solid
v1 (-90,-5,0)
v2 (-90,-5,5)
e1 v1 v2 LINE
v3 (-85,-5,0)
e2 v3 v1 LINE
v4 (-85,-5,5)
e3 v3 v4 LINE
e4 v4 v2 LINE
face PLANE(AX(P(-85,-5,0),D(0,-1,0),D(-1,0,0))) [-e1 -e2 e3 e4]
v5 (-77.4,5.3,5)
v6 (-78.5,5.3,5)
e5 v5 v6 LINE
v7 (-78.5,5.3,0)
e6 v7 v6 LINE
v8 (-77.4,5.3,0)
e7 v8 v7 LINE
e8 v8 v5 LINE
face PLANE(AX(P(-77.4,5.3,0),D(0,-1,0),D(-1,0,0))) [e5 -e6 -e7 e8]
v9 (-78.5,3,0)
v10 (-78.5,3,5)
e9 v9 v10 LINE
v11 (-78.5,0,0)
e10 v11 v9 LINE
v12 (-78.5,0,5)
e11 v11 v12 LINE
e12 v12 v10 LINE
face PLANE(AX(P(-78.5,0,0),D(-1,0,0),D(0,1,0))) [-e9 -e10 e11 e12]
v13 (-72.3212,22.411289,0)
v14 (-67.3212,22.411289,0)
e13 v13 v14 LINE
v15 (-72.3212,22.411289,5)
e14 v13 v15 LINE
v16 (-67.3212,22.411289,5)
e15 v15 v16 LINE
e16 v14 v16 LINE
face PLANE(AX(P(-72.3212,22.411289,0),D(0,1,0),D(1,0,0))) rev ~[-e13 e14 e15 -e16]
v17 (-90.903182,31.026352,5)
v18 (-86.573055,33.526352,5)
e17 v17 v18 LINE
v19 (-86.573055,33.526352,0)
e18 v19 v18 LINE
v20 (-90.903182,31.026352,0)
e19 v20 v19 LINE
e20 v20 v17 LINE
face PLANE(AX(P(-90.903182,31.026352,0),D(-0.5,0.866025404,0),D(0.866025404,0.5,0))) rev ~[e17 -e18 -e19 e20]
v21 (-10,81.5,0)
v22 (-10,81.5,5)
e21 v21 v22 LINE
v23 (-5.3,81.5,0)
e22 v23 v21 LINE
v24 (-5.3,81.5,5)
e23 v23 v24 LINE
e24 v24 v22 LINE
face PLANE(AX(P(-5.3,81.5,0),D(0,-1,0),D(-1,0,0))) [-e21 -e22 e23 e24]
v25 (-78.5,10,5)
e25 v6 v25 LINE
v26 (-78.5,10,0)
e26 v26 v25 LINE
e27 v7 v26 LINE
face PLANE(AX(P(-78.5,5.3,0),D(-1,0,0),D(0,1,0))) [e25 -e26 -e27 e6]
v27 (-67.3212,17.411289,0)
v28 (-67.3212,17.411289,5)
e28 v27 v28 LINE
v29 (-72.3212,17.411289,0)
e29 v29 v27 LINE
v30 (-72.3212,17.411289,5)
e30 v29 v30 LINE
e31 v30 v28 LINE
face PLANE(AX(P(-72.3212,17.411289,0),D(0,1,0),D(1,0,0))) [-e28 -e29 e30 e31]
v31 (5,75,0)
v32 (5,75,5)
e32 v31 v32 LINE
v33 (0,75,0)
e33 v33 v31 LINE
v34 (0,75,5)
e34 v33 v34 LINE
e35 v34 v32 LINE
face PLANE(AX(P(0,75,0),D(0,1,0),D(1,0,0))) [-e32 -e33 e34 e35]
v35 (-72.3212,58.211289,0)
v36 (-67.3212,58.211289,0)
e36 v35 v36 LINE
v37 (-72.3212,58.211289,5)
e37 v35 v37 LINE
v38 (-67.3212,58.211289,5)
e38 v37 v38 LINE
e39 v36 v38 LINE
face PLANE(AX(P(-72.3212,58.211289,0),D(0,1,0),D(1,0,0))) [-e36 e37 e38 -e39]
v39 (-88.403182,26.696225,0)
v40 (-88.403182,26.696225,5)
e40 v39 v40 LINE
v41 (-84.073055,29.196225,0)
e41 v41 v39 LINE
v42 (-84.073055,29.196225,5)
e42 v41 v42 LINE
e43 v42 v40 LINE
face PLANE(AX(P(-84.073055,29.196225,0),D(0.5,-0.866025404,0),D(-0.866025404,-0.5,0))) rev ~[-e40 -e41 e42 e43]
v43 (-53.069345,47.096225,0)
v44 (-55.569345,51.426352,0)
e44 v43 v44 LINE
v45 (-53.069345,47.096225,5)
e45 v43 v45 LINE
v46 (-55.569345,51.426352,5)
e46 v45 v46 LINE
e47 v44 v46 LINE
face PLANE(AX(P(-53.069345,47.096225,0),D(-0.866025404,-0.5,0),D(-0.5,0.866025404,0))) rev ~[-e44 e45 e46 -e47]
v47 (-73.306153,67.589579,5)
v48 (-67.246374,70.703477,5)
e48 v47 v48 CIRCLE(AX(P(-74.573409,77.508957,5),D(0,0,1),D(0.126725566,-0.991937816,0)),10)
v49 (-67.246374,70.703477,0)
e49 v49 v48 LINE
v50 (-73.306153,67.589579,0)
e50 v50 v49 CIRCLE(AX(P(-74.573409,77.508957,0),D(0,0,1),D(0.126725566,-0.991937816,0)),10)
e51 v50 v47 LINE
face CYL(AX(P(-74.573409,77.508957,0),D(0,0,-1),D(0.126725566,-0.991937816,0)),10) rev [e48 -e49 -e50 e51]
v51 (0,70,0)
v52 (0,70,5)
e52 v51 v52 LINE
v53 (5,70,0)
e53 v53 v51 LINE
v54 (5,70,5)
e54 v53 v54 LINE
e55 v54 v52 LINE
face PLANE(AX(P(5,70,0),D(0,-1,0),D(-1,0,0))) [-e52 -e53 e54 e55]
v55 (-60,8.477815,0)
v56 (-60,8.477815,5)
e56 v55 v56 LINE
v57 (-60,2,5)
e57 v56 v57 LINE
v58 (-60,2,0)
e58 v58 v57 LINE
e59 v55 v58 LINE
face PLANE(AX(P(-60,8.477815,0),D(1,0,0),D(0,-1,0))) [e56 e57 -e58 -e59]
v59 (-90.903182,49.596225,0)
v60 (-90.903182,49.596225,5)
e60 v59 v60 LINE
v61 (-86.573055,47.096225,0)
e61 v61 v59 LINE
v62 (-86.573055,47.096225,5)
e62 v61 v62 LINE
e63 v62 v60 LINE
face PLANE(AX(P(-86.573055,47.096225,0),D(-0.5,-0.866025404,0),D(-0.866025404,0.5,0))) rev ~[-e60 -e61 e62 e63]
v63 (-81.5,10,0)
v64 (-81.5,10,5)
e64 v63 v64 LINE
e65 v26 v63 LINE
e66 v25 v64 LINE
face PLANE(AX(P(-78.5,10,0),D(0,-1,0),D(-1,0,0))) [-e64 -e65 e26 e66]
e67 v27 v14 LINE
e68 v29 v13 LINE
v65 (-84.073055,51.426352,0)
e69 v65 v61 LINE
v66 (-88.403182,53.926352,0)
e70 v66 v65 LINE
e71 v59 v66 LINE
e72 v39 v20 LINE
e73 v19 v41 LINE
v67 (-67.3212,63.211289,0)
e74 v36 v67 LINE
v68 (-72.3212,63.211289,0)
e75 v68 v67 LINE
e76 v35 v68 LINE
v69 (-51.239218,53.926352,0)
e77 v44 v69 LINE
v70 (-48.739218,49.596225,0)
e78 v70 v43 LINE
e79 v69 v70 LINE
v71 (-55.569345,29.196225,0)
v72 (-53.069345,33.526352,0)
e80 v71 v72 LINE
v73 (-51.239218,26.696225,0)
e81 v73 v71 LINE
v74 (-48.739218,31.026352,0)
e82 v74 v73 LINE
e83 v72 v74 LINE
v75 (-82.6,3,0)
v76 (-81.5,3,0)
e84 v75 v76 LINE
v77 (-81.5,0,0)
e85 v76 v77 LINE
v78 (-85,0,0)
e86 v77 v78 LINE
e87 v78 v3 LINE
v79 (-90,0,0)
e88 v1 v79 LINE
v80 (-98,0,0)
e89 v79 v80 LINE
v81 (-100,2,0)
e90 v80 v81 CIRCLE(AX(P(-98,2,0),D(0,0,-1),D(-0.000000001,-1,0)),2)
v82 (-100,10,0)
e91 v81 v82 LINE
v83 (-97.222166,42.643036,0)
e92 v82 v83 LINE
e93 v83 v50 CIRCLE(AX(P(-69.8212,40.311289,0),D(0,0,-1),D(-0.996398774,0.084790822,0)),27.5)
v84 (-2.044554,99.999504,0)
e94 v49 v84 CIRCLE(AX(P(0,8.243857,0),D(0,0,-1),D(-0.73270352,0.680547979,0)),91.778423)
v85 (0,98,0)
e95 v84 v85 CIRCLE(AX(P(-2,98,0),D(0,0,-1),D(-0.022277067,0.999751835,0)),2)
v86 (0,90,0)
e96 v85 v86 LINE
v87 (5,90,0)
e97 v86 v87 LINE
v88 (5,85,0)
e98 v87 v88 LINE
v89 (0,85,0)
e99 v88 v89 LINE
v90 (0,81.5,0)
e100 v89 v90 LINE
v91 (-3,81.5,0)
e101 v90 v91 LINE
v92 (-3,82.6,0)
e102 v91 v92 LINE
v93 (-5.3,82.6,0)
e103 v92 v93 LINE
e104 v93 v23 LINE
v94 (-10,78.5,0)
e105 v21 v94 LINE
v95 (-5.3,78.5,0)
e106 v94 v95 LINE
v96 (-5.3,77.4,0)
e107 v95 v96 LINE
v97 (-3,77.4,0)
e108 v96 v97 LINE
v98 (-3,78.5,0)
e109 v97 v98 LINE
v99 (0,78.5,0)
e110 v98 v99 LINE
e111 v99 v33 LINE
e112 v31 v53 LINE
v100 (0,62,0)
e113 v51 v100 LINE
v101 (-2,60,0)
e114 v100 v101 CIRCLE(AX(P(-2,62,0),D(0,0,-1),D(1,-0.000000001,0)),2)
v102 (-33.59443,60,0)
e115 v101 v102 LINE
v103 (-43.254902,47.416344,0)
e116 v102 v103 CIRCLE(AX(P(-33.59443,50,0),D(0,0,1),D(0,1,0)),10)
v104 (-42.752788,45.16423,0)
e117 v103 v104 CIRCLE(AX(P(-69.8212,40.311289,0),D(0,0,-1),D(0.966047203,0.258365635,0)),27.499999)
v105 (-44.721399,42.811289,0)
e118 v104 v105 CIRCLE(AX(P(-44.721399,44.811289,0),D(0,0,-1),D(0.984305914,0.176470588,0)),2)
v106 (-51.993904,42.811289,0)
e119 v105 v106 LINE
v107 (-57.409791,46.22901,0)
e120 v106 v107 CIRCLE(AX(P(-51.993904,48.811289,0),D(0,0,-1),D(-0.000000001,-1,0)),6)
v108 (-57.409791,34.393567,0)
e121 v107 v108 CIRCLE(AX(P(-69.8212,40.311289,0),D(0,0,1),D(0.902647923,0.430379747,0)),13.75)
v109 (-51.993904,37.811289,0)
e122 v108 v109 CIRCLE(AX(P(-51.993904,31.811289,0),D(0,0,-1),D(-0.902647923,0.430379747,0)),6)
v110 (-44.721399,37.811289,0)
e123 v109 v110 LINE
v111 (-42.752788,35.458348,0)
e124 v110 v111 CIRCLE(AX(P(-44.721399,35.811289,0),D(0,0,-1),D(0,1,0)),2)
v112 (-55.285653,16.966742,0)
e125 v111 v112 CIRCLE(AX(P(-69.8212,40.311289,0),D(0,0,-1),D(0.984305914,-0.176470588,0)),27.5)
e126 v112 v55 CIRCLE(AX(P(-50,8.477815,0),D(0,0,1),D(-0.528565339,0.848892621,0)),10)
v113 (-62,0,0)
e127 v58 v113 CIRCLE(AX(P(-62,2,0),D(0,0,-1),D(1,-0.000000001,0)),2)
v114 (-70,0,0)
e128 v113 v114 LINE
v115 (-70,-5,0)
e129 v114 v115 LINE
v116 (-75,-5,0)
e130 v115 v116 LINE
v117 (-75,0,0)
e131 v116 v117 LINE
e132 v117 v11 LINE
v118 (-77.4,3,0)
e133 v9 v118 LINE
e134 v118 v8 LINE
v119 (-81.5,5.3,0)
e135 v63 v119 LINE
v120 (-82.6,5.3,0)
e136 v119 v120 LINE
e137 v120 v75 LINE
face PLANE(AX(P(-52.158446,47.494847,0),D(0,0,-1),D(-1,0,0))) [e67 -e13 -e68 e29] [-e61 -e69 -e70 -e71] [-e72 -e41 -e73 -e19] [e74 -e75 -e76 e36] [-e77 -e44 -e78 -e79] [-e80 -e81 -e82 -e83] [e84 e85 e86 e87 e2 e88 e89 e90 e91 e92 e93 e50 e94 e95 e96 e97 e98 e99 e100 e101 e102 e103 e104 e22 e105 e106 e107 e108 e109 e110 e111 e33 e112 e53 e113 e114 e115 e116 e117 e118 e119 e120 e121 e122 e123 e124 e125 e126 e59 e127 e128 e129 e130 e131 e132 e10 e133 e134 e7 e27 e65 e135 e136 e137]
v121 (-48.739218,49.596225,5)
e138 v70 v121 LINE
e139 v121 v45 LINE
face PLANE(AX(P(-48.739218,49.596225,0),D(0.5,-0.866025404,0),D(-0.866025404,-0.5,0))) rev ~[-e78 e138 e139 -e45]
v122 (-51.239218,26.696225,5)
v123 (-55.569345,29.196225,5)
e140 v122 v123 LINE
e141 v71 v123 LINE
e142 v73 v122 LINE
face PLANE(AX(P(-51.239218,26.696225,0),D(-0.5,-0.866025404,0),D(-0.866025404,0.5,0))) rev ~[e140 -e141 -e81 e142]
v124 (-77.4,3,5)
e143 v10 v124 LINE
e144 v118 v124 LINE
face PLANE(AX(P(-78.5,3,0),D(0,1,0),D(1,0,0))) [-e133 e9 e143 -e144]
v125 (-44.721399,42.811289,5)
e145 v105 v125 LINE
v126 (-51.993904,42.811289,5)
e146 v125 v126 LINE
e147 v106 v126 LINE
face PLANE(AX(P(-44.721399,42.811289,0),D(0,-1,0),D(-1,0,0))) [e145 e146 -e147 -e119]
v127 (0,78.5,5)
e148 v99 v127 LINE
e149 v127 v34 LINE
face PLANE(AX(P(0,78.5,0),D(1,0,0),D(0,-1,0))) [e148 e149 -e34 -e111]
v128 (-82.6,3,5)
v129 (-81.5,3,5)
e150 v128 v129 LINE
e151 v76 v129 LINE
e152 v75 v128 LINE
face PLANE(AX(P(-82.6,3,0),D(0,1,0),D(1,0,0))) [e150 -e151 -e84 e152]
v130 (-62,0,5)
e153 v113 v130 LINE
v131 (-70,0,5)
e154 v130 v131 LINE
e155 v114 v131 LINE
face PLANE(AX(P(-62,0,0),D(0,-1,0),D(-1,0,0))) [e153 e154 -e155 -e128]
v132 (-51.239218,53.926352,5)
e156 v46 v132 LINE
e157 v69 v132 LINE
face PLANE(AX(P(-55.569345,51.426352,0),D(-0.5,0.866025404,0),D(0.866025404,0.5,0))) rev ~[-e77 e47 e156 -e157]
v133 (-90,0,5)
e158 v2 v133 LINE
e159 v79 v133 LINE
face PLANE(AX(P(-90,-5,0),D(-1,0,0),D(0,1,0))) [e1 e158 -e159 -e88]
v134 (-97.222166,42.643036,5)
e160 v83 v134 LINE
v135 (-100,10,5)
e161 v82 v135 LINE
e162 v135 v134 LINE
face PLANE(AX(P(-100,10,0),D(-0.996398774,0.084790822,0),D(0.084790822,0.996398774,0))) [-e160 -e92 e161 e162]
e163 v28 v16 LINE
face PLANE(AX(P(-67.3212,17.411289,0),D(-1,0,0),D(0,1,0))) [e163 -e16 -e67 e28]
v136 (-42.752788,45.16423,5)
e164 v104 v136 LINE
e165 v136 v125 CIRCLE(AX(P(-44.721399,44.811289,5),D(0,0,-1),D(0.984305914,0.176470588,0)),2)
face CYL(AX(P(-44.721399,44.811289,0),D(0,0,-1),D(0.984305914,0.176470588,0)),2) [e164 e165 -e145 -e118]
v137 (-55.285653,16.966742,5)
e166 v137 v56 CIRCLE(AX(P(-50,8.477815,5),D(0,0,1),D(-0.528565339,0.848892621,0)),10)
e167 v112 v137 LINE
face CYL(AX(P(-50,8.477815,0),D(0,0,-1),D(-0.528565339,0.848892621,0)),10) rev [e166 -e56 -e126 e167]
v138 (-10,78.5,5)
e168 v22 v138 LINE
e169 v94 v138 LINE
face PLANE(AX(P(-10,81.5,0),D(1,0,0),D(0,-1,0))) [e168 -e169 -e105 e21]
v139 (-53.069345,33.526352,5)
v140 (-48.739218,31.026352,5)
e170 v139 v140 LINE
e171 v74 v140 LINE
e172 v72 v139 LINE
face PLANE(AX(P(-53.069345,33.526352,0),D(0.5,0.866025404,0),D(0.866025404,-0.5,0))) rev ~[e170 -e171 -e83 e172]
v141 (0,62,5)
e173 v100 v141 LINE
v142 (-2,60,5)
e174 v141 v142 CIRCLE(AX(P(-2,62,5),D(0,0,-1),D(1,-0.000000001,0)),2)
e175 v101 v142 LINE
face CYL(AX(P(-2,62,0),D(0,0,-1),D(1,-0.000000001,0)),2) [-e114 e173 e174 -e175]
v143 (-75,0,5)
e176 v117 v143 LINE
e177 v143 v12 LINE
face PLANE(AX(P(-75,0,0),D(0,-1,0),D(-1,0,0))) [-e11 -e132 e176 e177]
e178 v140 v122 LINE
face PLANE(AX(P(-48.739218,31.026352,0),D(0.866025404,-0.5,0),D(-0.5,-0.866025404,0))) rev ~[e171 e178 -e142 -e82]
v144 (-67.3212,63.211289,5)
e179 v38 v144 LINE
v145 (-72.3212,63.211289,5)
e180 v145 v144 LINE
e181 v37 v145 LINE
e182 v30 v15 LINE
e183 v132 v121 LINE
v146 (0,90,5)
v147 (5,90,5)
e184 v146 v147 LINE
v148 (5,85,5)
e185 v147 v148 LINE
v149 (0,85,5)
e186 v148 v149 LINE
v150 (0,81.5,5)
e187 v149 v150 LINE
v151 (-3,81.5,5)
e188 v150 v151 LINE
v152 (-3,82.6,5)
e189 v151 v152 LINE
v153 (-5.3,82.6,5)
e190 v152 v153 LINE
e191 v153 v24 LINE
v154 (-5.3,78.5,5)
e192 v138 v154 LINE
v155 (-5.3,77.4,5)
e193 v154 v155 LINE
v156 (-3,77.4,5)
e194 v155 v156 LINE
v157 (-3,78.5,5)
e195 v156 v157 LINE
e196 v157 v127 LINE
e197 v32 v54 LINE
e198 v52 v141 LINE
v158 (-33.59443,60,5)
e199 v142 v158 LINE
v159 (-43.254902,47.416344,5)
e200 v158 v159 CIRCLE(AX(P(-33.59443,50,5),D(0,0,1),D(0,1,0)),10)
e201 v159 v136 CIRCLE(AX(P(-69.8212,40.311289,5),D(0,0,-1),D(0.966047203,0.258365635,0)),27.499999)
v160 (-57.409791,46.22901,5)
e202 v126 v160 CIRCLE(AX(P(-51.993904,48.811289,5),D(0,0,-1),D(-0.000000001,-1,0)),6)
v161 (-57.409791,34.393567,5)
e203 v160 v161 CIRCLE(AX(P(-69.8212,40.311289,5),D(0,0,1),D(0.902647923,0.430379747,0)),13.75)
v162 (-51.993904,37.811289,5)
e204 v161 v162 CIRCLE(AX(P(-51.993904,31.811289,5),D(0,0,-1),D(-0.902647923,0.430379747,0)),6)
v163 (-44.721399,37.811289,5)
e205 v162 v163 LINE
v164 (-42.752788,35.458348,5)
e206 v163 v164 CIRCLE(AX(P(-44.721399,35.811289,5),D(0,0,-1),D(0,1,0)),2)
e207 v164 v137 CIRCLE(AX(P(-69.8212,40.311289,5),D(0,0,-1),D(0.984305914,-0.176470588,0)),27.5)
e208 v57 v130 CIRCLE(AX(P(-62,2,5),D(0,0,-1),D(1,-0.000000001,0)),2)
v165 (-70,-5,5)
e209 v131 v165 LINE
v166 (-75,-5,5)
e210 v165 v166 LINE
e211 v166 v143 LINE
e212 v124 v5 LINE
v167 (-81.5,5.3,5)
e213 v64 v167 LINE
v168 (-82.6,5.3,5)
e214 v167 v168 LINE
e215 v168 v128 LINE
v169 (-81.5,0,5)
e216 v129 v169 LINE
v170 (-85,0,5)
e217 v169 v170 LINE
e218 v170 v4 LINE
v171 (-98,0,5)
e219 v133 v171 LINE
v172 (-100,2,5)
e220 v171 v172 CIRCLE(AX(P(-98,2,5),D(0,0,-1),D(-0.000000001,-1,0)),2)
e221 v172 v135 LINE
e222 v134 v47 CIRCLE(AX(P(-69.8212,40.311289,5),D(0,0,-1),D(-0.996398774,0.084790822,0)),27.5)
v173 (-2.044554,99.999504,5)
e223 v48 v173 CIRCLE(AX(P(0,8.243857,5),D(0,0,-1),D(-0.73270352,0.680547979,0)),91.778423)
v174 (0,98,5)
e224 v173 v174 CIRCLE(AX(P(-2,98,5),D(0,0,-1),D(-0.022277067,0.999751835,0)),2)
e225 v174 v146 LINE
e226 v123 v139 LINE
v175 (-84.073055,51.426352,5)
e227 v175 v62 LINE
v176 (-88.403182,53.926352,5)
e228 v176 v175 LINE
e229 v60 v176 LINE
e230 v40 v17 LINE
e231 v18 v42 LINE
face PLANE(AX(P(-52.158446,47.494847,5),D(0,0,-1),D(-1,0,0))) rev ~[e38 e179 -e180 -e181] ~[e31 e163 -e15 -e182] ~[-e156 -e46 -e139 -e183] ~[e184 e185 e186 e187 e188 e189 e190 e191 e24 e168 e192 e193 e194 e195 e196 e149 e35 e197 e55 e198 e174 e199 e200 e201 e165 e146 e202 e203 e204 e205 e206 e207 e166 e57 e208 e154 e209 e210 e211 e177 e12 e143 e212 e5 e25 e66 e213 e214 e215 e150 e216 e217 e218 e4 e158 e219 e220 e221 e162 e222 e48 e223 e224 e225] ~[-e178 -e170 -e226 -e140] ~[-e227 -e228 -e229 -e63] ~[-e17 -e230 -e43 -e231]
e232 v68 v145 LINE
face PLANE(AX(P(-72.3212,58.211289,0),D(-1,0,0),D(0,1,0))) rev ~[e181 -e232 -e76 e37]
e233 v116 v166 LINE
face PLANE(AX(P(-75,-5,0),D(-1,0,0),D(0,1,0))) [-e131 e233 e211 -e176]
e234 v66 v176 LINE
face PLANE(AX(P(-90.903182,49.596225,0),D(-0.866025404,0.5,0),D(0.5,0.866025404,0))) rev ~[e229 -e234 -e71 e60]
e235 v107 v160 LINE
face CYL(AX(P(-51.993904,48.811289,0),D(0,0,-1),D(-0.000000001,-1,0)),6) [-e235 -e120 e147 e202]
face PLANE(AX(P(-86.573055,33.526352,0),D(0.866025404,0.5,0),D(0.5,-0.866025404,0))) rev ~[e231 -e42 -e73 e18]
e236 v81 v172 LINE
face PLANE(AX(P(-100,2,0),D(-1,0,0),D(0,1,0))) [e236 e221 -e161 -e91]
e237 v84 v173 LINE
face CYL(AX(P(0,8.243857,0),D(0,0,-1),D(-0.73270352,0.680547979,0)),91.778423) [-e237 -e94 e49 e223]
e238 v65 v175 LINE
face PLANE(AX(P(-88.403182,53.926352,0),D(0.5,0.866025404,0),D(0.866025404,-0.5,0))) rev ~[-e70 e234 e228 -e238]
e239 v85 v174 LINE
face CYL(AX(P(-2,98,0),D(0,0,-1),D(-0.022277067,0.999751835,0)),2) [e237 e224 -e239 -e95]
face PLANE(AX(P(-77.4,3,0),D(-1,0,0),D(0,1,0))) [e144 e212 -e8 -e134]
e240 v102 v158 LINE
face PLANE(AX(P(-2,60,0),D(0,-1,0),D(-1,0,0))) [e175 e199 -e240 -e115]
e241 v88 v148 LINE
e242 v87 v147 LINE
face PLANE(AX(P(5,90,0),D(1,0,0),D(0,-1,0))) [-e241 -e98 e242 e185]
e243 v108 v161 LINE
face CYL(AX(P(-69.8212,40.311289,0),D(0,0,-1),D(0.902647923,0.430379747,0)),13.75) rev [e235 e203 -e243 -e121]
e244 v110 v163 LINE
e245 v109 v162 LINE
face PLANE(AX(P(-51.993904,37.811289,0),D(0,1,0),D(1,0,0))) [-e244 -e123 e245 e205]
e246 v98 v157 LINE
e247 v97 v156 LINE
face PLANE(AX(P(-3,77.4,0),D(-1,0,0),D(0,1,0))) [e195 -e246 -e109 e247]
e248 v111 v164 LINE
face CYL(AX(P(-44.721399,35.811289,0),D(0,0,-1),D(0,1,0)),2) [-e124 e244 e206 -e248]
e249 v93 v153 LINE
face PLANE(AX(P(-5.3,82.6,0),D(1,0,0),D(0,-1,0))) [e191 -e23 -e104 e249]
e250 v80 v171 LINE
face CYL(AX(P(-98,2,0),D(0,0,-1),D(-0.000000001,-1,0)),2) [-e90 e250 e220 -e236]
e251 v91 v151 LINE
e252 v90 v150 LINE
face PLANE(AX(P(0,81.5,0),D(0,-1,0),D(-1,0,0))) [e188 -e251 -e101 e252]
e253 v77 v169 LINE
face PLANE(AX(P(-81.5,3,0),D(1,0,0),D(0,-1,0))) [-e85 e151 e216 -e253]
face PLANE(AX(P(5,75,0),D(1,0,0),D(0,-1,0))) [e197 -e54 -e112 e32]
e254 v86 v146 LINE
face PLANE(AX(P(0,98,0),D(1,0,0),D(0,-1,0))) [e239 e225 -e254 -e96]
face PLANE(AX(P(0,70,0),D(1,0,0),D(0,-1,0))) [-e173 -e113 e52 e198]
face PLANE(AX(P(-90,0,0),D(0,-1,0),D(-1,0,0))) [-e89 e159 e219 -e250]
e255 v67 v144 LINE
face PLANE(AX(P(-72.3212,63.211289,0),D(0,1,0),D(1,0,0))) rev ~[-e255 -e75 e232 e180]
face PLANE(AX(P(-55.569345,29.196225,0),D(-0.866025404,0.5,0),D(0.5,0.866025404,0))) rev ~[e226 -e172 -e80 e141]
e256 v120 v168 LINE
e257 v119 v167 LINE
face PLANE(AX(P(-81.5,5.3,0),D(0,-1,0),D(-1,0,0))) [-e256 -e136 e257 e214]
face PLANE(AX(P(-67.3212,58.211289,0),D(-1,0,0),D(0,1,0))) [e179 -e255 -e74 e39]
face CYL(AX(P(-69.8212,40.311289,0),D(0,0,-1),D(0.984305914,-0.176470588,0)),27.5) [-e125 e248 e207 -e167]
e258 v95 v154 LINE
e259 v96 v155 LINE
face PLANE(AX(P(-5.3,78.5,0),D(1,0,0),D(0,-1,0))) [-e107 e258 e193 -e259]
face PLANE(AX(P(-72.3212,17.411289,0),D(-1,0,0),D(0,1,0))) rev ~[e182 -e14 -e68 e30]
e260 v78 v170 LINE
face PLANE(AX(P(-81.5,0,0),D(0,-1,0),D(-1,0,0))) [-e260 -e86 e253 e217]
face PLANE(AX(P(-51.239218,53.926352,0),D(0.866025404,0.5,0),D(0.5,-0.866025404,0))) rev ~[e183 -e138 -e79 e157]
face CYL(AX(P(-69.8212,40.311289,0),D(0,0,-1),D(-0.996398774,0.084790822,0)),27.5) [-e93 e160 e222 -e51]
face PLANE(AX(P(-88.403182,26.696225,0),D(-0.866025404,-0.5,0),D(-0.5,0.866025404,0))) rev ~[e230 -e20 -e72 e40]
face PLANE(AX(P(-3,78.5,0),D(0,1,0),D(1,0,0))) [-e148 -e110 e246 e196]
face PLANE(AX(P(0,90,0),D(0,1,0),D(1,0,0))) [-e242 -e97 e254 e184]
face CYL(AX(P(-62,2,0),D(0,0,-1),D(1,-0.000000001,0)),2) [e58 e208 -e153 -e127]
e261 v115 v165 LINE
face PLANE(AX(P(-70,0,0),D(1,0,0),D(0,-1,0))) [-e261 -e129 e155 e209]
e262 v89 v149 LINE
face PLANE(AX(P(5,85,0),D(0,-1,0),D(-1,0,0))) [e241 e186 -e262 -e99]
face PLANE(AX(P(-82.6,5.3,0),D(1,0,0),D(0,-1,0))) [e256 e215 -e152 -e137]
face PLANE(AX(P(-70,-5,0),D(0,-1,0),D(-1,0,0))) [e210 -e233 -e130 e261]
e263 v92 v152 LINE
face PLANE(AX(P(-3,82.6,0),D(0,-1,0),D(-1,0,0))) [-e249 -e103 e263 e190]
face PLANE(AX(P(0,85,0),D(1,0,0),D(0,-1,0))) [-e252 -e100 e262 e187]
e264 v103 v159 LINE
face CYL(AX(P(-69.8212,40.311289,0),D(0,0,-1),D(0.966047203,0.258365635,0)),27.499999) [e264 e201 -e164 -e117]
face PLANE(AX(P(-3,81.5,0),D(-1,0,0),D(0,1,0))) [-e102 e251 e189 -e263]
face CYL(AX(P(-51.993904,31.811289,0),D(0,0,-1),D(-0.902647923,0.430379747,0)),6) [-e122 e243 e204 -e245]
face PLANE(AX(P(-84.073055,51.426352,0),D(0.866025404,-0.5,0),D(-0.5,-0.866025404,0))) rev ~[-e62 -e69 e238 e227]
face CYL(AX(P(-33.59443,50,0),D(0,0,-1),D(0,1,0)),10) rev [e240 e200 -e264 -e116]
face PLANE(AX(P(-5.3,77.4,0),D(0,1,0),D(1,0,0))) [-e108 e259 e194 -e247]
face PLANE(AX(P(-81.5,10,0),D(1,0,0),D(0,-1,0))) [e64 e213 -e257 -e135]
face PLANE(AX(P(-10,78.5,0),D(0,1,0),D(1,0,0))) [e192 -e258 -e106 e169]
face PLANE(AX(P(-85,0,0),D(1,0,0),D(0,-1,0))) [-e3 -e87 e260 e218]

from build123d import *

# Parameters (mm, degrees)
ESQUISSE1_W        = 5
ESQUISSE1_H        = 5
BOSS_EXTRU_1_DEPTH = 5


with BuildPart() as part:
    # Esquisse1 → Boss.-Extru.1 (new body)
    with BuildSketch(Plane.XY):
        with BuildLine():
            Line((-62, 0), (-70, 0))
            Line((-70, 0), (-70, -5))
            Line((-70, -5), (-75, -5))
            Line((-75, -5), (-75, 0))
            Line((-75, 0), (-78.5, 0))
            Line((-78.5, 0), (-78.5, 3))
            Line((-78.5, 3), (-77.4, 3))
            Line((-77.4, 3), (-77.4, 5.3))
            Line((-77.4, 5.3), (-78.5, 5.3))
            Line((-78.5, 5.3), (-78.5, 10))
            Line((-78.5, 10), (-81.5, 10))
            Line((-81.5, 10), (-81.5, 5.3))
            Line((-81.5, 5.3), (-82.6, 5.3))
            Line((-82.6, 5.3), (-82.6, 3))
            Line((-82.6, 3), (-81.5, 3))
            Line((-81.5, 3), (-81.5, 0))
            Line((-81.5, 0), (-85, 0))
            Line((-85, 0), (-85, -5))
            Line((-85, -5), (-90, -5))
            Line((-90, -5), (-90, 0))
            Line((-90, 0), (-98, 0))
            ThreePointArc((-98, 0), (-99.414213562, 0.585786438), (-100, 2))
            Line((-100, 2), (-100, 10))
            Line((-100, 10), (-97.222166499, 42.643036354))
            ThreePointArc((-97.222166499, 42.643036354), (-89.672333618, 59.342381794), (-73.306153302, 67.589578681))
            ThreePointArc((-73.306153302, 67.589578681), (-70.002900284, 68.614551275), (-67.24637377, 70.70347705))
            ThreePointArc((-67.24637377, 70.70347705), (-37.614790527, 91.960082654), (-2.044554135, 99.999503671))
            ThreePointArc((-2.044554135, 99.999503671), (-0.601627423, 99.429879063), (0, 98))
            Line((0, 98), (0, 90))
            Line((0, 90), (5, 90))
            Line((5, 90), (5, 85))
            Line((5, 85), (0, 85))
            Line((0, 85), (0, 81.5))
            Line((0, 81.5), (-3, 81.5))
            Line((-3, 81.5), (-3, 82.6))
            Line((-3, 82.6), (-5.3, 82.6))
            Line((-5.3, 82.6), (-5.3, 81.5))
            Line((-5.3, 81.5), (-10, 81.5))
            Line((-10, 81.5), (-10, 78.5))
            Line((-10, 78.5), (-5.3, 78.5))
            Line((-5.3, 78.5), (-5.3, 77.4))
            Line((-5.3, 77.4), (-3, 77.4))
            Line((-3, 77.4), (-3, 78.5))
            Line((-3, 78.5), (0, 78.5))
            Line((0, 78.5), (0, 75))
            Line((0, 75), (5, 75))
            Line((5, 75), (5, 70))
            Line((5, 70), (0, 70))
            Line((0, 70), (0, 62))
            ThreePointArc((0, 62), (-0.585786438, 60.585786438), (-2, 60))
            Line((-2, 60), (-33.594430088, 60))
            ThreePointArc((-33.594430088, 60), (-41.52653458, 56.08947603), (-43.254902123, 47.416343664))
            ThreePointArc((-43.254902123, 47.416343664), (-42.980213788, 46.295555399), (-42.752787596, 45.164229918))
            ThreePointArc((-42.752787596, 45.164229918), (-43.187469445, 43.527910846), (-44.721399423, 42.811288741))
            Line((-44.721399423, 42.811288741), (-51.993903733, 42.811288741))
            ThreePointArc((-51.993903733, 42.811288741), (-55.195960034, 43.737154782), (-57.409791273, 46.22901026))
            ThreePointArc((-57.409791273, 46.22901026), (-83.571200219, 40.311288741), (-57.409791273, 34.393567223))
            ThreePointArc((-57.409791273, 34.393567223), (-55.195960034, 36.885422701), (-51.993903733, 37.811288741))
            Line((-51.993903733, 37.811288741), (-44.721399423, 37.811288741))
            ThreePointArc((-44.721399423, 37.811288741), (-43.187469445, 37.094666637), (-42.752787596, 35.458347565))
            ThreePointArc((-42.752787596, 35.458347565), (-47.057034679, 24.882654088), (-55.285653392, 16.96674166))
            ThreePointArc((-55.285653392, 16.96674166), (-58.742326175, 13.332888367), (-60, 8.477815449))
            Line((-60, 8.477815449), (-60, 2))
            ThreePointArc((-60, 2), (-60.585786438, 0.585786438), (-62, 0))
        make_face()
        with Locations((-69.821200219, 60.711288741)):
            Rectangle(ESQUISSE1_W, ESQUISSE1_H, mode=Mode.SUBTRACT)
        Polygon((-51.239218472, 53.926352251), (-48.739218472, 49.596225232), (-53.069345491, 47.096225232), (-55.569345491, 51.426352251), align=None, mode=Mode.SUBTRACT)
        Polygon((-48.739218472, 31.026352251), (-51.239218472, 26.696225232), (-55.569345491, 29.196225232), (-53.069345491, 33.526352251), align=None, mode=Mode.SUBTRACT)
        with Locations((-69.821200219, 19.911288741)):
            Rectangle(ESQUISSE1_W, ESQUISSE1_H, mode=Mode.SUBTRACT)
        Polygon((-88.403181966, 26.696225232), (-90.903181966, 31.026352251), (-86.573054947, 33.526352251), (-84.073054947, 29.196225232), align=None, mode=Mode.SUBTRACT)
        Polygon((-90.903181966, 49.596225232), (-88.403181966, 53.926352251), (-84.073054947, 51.426352251), (-86.573054947, 47.096225232), align=None, mode=Mode.SUBTRACT)
    extrude(amount=BOSS_EXTRU_1_DEPTH)


solid = part.part
